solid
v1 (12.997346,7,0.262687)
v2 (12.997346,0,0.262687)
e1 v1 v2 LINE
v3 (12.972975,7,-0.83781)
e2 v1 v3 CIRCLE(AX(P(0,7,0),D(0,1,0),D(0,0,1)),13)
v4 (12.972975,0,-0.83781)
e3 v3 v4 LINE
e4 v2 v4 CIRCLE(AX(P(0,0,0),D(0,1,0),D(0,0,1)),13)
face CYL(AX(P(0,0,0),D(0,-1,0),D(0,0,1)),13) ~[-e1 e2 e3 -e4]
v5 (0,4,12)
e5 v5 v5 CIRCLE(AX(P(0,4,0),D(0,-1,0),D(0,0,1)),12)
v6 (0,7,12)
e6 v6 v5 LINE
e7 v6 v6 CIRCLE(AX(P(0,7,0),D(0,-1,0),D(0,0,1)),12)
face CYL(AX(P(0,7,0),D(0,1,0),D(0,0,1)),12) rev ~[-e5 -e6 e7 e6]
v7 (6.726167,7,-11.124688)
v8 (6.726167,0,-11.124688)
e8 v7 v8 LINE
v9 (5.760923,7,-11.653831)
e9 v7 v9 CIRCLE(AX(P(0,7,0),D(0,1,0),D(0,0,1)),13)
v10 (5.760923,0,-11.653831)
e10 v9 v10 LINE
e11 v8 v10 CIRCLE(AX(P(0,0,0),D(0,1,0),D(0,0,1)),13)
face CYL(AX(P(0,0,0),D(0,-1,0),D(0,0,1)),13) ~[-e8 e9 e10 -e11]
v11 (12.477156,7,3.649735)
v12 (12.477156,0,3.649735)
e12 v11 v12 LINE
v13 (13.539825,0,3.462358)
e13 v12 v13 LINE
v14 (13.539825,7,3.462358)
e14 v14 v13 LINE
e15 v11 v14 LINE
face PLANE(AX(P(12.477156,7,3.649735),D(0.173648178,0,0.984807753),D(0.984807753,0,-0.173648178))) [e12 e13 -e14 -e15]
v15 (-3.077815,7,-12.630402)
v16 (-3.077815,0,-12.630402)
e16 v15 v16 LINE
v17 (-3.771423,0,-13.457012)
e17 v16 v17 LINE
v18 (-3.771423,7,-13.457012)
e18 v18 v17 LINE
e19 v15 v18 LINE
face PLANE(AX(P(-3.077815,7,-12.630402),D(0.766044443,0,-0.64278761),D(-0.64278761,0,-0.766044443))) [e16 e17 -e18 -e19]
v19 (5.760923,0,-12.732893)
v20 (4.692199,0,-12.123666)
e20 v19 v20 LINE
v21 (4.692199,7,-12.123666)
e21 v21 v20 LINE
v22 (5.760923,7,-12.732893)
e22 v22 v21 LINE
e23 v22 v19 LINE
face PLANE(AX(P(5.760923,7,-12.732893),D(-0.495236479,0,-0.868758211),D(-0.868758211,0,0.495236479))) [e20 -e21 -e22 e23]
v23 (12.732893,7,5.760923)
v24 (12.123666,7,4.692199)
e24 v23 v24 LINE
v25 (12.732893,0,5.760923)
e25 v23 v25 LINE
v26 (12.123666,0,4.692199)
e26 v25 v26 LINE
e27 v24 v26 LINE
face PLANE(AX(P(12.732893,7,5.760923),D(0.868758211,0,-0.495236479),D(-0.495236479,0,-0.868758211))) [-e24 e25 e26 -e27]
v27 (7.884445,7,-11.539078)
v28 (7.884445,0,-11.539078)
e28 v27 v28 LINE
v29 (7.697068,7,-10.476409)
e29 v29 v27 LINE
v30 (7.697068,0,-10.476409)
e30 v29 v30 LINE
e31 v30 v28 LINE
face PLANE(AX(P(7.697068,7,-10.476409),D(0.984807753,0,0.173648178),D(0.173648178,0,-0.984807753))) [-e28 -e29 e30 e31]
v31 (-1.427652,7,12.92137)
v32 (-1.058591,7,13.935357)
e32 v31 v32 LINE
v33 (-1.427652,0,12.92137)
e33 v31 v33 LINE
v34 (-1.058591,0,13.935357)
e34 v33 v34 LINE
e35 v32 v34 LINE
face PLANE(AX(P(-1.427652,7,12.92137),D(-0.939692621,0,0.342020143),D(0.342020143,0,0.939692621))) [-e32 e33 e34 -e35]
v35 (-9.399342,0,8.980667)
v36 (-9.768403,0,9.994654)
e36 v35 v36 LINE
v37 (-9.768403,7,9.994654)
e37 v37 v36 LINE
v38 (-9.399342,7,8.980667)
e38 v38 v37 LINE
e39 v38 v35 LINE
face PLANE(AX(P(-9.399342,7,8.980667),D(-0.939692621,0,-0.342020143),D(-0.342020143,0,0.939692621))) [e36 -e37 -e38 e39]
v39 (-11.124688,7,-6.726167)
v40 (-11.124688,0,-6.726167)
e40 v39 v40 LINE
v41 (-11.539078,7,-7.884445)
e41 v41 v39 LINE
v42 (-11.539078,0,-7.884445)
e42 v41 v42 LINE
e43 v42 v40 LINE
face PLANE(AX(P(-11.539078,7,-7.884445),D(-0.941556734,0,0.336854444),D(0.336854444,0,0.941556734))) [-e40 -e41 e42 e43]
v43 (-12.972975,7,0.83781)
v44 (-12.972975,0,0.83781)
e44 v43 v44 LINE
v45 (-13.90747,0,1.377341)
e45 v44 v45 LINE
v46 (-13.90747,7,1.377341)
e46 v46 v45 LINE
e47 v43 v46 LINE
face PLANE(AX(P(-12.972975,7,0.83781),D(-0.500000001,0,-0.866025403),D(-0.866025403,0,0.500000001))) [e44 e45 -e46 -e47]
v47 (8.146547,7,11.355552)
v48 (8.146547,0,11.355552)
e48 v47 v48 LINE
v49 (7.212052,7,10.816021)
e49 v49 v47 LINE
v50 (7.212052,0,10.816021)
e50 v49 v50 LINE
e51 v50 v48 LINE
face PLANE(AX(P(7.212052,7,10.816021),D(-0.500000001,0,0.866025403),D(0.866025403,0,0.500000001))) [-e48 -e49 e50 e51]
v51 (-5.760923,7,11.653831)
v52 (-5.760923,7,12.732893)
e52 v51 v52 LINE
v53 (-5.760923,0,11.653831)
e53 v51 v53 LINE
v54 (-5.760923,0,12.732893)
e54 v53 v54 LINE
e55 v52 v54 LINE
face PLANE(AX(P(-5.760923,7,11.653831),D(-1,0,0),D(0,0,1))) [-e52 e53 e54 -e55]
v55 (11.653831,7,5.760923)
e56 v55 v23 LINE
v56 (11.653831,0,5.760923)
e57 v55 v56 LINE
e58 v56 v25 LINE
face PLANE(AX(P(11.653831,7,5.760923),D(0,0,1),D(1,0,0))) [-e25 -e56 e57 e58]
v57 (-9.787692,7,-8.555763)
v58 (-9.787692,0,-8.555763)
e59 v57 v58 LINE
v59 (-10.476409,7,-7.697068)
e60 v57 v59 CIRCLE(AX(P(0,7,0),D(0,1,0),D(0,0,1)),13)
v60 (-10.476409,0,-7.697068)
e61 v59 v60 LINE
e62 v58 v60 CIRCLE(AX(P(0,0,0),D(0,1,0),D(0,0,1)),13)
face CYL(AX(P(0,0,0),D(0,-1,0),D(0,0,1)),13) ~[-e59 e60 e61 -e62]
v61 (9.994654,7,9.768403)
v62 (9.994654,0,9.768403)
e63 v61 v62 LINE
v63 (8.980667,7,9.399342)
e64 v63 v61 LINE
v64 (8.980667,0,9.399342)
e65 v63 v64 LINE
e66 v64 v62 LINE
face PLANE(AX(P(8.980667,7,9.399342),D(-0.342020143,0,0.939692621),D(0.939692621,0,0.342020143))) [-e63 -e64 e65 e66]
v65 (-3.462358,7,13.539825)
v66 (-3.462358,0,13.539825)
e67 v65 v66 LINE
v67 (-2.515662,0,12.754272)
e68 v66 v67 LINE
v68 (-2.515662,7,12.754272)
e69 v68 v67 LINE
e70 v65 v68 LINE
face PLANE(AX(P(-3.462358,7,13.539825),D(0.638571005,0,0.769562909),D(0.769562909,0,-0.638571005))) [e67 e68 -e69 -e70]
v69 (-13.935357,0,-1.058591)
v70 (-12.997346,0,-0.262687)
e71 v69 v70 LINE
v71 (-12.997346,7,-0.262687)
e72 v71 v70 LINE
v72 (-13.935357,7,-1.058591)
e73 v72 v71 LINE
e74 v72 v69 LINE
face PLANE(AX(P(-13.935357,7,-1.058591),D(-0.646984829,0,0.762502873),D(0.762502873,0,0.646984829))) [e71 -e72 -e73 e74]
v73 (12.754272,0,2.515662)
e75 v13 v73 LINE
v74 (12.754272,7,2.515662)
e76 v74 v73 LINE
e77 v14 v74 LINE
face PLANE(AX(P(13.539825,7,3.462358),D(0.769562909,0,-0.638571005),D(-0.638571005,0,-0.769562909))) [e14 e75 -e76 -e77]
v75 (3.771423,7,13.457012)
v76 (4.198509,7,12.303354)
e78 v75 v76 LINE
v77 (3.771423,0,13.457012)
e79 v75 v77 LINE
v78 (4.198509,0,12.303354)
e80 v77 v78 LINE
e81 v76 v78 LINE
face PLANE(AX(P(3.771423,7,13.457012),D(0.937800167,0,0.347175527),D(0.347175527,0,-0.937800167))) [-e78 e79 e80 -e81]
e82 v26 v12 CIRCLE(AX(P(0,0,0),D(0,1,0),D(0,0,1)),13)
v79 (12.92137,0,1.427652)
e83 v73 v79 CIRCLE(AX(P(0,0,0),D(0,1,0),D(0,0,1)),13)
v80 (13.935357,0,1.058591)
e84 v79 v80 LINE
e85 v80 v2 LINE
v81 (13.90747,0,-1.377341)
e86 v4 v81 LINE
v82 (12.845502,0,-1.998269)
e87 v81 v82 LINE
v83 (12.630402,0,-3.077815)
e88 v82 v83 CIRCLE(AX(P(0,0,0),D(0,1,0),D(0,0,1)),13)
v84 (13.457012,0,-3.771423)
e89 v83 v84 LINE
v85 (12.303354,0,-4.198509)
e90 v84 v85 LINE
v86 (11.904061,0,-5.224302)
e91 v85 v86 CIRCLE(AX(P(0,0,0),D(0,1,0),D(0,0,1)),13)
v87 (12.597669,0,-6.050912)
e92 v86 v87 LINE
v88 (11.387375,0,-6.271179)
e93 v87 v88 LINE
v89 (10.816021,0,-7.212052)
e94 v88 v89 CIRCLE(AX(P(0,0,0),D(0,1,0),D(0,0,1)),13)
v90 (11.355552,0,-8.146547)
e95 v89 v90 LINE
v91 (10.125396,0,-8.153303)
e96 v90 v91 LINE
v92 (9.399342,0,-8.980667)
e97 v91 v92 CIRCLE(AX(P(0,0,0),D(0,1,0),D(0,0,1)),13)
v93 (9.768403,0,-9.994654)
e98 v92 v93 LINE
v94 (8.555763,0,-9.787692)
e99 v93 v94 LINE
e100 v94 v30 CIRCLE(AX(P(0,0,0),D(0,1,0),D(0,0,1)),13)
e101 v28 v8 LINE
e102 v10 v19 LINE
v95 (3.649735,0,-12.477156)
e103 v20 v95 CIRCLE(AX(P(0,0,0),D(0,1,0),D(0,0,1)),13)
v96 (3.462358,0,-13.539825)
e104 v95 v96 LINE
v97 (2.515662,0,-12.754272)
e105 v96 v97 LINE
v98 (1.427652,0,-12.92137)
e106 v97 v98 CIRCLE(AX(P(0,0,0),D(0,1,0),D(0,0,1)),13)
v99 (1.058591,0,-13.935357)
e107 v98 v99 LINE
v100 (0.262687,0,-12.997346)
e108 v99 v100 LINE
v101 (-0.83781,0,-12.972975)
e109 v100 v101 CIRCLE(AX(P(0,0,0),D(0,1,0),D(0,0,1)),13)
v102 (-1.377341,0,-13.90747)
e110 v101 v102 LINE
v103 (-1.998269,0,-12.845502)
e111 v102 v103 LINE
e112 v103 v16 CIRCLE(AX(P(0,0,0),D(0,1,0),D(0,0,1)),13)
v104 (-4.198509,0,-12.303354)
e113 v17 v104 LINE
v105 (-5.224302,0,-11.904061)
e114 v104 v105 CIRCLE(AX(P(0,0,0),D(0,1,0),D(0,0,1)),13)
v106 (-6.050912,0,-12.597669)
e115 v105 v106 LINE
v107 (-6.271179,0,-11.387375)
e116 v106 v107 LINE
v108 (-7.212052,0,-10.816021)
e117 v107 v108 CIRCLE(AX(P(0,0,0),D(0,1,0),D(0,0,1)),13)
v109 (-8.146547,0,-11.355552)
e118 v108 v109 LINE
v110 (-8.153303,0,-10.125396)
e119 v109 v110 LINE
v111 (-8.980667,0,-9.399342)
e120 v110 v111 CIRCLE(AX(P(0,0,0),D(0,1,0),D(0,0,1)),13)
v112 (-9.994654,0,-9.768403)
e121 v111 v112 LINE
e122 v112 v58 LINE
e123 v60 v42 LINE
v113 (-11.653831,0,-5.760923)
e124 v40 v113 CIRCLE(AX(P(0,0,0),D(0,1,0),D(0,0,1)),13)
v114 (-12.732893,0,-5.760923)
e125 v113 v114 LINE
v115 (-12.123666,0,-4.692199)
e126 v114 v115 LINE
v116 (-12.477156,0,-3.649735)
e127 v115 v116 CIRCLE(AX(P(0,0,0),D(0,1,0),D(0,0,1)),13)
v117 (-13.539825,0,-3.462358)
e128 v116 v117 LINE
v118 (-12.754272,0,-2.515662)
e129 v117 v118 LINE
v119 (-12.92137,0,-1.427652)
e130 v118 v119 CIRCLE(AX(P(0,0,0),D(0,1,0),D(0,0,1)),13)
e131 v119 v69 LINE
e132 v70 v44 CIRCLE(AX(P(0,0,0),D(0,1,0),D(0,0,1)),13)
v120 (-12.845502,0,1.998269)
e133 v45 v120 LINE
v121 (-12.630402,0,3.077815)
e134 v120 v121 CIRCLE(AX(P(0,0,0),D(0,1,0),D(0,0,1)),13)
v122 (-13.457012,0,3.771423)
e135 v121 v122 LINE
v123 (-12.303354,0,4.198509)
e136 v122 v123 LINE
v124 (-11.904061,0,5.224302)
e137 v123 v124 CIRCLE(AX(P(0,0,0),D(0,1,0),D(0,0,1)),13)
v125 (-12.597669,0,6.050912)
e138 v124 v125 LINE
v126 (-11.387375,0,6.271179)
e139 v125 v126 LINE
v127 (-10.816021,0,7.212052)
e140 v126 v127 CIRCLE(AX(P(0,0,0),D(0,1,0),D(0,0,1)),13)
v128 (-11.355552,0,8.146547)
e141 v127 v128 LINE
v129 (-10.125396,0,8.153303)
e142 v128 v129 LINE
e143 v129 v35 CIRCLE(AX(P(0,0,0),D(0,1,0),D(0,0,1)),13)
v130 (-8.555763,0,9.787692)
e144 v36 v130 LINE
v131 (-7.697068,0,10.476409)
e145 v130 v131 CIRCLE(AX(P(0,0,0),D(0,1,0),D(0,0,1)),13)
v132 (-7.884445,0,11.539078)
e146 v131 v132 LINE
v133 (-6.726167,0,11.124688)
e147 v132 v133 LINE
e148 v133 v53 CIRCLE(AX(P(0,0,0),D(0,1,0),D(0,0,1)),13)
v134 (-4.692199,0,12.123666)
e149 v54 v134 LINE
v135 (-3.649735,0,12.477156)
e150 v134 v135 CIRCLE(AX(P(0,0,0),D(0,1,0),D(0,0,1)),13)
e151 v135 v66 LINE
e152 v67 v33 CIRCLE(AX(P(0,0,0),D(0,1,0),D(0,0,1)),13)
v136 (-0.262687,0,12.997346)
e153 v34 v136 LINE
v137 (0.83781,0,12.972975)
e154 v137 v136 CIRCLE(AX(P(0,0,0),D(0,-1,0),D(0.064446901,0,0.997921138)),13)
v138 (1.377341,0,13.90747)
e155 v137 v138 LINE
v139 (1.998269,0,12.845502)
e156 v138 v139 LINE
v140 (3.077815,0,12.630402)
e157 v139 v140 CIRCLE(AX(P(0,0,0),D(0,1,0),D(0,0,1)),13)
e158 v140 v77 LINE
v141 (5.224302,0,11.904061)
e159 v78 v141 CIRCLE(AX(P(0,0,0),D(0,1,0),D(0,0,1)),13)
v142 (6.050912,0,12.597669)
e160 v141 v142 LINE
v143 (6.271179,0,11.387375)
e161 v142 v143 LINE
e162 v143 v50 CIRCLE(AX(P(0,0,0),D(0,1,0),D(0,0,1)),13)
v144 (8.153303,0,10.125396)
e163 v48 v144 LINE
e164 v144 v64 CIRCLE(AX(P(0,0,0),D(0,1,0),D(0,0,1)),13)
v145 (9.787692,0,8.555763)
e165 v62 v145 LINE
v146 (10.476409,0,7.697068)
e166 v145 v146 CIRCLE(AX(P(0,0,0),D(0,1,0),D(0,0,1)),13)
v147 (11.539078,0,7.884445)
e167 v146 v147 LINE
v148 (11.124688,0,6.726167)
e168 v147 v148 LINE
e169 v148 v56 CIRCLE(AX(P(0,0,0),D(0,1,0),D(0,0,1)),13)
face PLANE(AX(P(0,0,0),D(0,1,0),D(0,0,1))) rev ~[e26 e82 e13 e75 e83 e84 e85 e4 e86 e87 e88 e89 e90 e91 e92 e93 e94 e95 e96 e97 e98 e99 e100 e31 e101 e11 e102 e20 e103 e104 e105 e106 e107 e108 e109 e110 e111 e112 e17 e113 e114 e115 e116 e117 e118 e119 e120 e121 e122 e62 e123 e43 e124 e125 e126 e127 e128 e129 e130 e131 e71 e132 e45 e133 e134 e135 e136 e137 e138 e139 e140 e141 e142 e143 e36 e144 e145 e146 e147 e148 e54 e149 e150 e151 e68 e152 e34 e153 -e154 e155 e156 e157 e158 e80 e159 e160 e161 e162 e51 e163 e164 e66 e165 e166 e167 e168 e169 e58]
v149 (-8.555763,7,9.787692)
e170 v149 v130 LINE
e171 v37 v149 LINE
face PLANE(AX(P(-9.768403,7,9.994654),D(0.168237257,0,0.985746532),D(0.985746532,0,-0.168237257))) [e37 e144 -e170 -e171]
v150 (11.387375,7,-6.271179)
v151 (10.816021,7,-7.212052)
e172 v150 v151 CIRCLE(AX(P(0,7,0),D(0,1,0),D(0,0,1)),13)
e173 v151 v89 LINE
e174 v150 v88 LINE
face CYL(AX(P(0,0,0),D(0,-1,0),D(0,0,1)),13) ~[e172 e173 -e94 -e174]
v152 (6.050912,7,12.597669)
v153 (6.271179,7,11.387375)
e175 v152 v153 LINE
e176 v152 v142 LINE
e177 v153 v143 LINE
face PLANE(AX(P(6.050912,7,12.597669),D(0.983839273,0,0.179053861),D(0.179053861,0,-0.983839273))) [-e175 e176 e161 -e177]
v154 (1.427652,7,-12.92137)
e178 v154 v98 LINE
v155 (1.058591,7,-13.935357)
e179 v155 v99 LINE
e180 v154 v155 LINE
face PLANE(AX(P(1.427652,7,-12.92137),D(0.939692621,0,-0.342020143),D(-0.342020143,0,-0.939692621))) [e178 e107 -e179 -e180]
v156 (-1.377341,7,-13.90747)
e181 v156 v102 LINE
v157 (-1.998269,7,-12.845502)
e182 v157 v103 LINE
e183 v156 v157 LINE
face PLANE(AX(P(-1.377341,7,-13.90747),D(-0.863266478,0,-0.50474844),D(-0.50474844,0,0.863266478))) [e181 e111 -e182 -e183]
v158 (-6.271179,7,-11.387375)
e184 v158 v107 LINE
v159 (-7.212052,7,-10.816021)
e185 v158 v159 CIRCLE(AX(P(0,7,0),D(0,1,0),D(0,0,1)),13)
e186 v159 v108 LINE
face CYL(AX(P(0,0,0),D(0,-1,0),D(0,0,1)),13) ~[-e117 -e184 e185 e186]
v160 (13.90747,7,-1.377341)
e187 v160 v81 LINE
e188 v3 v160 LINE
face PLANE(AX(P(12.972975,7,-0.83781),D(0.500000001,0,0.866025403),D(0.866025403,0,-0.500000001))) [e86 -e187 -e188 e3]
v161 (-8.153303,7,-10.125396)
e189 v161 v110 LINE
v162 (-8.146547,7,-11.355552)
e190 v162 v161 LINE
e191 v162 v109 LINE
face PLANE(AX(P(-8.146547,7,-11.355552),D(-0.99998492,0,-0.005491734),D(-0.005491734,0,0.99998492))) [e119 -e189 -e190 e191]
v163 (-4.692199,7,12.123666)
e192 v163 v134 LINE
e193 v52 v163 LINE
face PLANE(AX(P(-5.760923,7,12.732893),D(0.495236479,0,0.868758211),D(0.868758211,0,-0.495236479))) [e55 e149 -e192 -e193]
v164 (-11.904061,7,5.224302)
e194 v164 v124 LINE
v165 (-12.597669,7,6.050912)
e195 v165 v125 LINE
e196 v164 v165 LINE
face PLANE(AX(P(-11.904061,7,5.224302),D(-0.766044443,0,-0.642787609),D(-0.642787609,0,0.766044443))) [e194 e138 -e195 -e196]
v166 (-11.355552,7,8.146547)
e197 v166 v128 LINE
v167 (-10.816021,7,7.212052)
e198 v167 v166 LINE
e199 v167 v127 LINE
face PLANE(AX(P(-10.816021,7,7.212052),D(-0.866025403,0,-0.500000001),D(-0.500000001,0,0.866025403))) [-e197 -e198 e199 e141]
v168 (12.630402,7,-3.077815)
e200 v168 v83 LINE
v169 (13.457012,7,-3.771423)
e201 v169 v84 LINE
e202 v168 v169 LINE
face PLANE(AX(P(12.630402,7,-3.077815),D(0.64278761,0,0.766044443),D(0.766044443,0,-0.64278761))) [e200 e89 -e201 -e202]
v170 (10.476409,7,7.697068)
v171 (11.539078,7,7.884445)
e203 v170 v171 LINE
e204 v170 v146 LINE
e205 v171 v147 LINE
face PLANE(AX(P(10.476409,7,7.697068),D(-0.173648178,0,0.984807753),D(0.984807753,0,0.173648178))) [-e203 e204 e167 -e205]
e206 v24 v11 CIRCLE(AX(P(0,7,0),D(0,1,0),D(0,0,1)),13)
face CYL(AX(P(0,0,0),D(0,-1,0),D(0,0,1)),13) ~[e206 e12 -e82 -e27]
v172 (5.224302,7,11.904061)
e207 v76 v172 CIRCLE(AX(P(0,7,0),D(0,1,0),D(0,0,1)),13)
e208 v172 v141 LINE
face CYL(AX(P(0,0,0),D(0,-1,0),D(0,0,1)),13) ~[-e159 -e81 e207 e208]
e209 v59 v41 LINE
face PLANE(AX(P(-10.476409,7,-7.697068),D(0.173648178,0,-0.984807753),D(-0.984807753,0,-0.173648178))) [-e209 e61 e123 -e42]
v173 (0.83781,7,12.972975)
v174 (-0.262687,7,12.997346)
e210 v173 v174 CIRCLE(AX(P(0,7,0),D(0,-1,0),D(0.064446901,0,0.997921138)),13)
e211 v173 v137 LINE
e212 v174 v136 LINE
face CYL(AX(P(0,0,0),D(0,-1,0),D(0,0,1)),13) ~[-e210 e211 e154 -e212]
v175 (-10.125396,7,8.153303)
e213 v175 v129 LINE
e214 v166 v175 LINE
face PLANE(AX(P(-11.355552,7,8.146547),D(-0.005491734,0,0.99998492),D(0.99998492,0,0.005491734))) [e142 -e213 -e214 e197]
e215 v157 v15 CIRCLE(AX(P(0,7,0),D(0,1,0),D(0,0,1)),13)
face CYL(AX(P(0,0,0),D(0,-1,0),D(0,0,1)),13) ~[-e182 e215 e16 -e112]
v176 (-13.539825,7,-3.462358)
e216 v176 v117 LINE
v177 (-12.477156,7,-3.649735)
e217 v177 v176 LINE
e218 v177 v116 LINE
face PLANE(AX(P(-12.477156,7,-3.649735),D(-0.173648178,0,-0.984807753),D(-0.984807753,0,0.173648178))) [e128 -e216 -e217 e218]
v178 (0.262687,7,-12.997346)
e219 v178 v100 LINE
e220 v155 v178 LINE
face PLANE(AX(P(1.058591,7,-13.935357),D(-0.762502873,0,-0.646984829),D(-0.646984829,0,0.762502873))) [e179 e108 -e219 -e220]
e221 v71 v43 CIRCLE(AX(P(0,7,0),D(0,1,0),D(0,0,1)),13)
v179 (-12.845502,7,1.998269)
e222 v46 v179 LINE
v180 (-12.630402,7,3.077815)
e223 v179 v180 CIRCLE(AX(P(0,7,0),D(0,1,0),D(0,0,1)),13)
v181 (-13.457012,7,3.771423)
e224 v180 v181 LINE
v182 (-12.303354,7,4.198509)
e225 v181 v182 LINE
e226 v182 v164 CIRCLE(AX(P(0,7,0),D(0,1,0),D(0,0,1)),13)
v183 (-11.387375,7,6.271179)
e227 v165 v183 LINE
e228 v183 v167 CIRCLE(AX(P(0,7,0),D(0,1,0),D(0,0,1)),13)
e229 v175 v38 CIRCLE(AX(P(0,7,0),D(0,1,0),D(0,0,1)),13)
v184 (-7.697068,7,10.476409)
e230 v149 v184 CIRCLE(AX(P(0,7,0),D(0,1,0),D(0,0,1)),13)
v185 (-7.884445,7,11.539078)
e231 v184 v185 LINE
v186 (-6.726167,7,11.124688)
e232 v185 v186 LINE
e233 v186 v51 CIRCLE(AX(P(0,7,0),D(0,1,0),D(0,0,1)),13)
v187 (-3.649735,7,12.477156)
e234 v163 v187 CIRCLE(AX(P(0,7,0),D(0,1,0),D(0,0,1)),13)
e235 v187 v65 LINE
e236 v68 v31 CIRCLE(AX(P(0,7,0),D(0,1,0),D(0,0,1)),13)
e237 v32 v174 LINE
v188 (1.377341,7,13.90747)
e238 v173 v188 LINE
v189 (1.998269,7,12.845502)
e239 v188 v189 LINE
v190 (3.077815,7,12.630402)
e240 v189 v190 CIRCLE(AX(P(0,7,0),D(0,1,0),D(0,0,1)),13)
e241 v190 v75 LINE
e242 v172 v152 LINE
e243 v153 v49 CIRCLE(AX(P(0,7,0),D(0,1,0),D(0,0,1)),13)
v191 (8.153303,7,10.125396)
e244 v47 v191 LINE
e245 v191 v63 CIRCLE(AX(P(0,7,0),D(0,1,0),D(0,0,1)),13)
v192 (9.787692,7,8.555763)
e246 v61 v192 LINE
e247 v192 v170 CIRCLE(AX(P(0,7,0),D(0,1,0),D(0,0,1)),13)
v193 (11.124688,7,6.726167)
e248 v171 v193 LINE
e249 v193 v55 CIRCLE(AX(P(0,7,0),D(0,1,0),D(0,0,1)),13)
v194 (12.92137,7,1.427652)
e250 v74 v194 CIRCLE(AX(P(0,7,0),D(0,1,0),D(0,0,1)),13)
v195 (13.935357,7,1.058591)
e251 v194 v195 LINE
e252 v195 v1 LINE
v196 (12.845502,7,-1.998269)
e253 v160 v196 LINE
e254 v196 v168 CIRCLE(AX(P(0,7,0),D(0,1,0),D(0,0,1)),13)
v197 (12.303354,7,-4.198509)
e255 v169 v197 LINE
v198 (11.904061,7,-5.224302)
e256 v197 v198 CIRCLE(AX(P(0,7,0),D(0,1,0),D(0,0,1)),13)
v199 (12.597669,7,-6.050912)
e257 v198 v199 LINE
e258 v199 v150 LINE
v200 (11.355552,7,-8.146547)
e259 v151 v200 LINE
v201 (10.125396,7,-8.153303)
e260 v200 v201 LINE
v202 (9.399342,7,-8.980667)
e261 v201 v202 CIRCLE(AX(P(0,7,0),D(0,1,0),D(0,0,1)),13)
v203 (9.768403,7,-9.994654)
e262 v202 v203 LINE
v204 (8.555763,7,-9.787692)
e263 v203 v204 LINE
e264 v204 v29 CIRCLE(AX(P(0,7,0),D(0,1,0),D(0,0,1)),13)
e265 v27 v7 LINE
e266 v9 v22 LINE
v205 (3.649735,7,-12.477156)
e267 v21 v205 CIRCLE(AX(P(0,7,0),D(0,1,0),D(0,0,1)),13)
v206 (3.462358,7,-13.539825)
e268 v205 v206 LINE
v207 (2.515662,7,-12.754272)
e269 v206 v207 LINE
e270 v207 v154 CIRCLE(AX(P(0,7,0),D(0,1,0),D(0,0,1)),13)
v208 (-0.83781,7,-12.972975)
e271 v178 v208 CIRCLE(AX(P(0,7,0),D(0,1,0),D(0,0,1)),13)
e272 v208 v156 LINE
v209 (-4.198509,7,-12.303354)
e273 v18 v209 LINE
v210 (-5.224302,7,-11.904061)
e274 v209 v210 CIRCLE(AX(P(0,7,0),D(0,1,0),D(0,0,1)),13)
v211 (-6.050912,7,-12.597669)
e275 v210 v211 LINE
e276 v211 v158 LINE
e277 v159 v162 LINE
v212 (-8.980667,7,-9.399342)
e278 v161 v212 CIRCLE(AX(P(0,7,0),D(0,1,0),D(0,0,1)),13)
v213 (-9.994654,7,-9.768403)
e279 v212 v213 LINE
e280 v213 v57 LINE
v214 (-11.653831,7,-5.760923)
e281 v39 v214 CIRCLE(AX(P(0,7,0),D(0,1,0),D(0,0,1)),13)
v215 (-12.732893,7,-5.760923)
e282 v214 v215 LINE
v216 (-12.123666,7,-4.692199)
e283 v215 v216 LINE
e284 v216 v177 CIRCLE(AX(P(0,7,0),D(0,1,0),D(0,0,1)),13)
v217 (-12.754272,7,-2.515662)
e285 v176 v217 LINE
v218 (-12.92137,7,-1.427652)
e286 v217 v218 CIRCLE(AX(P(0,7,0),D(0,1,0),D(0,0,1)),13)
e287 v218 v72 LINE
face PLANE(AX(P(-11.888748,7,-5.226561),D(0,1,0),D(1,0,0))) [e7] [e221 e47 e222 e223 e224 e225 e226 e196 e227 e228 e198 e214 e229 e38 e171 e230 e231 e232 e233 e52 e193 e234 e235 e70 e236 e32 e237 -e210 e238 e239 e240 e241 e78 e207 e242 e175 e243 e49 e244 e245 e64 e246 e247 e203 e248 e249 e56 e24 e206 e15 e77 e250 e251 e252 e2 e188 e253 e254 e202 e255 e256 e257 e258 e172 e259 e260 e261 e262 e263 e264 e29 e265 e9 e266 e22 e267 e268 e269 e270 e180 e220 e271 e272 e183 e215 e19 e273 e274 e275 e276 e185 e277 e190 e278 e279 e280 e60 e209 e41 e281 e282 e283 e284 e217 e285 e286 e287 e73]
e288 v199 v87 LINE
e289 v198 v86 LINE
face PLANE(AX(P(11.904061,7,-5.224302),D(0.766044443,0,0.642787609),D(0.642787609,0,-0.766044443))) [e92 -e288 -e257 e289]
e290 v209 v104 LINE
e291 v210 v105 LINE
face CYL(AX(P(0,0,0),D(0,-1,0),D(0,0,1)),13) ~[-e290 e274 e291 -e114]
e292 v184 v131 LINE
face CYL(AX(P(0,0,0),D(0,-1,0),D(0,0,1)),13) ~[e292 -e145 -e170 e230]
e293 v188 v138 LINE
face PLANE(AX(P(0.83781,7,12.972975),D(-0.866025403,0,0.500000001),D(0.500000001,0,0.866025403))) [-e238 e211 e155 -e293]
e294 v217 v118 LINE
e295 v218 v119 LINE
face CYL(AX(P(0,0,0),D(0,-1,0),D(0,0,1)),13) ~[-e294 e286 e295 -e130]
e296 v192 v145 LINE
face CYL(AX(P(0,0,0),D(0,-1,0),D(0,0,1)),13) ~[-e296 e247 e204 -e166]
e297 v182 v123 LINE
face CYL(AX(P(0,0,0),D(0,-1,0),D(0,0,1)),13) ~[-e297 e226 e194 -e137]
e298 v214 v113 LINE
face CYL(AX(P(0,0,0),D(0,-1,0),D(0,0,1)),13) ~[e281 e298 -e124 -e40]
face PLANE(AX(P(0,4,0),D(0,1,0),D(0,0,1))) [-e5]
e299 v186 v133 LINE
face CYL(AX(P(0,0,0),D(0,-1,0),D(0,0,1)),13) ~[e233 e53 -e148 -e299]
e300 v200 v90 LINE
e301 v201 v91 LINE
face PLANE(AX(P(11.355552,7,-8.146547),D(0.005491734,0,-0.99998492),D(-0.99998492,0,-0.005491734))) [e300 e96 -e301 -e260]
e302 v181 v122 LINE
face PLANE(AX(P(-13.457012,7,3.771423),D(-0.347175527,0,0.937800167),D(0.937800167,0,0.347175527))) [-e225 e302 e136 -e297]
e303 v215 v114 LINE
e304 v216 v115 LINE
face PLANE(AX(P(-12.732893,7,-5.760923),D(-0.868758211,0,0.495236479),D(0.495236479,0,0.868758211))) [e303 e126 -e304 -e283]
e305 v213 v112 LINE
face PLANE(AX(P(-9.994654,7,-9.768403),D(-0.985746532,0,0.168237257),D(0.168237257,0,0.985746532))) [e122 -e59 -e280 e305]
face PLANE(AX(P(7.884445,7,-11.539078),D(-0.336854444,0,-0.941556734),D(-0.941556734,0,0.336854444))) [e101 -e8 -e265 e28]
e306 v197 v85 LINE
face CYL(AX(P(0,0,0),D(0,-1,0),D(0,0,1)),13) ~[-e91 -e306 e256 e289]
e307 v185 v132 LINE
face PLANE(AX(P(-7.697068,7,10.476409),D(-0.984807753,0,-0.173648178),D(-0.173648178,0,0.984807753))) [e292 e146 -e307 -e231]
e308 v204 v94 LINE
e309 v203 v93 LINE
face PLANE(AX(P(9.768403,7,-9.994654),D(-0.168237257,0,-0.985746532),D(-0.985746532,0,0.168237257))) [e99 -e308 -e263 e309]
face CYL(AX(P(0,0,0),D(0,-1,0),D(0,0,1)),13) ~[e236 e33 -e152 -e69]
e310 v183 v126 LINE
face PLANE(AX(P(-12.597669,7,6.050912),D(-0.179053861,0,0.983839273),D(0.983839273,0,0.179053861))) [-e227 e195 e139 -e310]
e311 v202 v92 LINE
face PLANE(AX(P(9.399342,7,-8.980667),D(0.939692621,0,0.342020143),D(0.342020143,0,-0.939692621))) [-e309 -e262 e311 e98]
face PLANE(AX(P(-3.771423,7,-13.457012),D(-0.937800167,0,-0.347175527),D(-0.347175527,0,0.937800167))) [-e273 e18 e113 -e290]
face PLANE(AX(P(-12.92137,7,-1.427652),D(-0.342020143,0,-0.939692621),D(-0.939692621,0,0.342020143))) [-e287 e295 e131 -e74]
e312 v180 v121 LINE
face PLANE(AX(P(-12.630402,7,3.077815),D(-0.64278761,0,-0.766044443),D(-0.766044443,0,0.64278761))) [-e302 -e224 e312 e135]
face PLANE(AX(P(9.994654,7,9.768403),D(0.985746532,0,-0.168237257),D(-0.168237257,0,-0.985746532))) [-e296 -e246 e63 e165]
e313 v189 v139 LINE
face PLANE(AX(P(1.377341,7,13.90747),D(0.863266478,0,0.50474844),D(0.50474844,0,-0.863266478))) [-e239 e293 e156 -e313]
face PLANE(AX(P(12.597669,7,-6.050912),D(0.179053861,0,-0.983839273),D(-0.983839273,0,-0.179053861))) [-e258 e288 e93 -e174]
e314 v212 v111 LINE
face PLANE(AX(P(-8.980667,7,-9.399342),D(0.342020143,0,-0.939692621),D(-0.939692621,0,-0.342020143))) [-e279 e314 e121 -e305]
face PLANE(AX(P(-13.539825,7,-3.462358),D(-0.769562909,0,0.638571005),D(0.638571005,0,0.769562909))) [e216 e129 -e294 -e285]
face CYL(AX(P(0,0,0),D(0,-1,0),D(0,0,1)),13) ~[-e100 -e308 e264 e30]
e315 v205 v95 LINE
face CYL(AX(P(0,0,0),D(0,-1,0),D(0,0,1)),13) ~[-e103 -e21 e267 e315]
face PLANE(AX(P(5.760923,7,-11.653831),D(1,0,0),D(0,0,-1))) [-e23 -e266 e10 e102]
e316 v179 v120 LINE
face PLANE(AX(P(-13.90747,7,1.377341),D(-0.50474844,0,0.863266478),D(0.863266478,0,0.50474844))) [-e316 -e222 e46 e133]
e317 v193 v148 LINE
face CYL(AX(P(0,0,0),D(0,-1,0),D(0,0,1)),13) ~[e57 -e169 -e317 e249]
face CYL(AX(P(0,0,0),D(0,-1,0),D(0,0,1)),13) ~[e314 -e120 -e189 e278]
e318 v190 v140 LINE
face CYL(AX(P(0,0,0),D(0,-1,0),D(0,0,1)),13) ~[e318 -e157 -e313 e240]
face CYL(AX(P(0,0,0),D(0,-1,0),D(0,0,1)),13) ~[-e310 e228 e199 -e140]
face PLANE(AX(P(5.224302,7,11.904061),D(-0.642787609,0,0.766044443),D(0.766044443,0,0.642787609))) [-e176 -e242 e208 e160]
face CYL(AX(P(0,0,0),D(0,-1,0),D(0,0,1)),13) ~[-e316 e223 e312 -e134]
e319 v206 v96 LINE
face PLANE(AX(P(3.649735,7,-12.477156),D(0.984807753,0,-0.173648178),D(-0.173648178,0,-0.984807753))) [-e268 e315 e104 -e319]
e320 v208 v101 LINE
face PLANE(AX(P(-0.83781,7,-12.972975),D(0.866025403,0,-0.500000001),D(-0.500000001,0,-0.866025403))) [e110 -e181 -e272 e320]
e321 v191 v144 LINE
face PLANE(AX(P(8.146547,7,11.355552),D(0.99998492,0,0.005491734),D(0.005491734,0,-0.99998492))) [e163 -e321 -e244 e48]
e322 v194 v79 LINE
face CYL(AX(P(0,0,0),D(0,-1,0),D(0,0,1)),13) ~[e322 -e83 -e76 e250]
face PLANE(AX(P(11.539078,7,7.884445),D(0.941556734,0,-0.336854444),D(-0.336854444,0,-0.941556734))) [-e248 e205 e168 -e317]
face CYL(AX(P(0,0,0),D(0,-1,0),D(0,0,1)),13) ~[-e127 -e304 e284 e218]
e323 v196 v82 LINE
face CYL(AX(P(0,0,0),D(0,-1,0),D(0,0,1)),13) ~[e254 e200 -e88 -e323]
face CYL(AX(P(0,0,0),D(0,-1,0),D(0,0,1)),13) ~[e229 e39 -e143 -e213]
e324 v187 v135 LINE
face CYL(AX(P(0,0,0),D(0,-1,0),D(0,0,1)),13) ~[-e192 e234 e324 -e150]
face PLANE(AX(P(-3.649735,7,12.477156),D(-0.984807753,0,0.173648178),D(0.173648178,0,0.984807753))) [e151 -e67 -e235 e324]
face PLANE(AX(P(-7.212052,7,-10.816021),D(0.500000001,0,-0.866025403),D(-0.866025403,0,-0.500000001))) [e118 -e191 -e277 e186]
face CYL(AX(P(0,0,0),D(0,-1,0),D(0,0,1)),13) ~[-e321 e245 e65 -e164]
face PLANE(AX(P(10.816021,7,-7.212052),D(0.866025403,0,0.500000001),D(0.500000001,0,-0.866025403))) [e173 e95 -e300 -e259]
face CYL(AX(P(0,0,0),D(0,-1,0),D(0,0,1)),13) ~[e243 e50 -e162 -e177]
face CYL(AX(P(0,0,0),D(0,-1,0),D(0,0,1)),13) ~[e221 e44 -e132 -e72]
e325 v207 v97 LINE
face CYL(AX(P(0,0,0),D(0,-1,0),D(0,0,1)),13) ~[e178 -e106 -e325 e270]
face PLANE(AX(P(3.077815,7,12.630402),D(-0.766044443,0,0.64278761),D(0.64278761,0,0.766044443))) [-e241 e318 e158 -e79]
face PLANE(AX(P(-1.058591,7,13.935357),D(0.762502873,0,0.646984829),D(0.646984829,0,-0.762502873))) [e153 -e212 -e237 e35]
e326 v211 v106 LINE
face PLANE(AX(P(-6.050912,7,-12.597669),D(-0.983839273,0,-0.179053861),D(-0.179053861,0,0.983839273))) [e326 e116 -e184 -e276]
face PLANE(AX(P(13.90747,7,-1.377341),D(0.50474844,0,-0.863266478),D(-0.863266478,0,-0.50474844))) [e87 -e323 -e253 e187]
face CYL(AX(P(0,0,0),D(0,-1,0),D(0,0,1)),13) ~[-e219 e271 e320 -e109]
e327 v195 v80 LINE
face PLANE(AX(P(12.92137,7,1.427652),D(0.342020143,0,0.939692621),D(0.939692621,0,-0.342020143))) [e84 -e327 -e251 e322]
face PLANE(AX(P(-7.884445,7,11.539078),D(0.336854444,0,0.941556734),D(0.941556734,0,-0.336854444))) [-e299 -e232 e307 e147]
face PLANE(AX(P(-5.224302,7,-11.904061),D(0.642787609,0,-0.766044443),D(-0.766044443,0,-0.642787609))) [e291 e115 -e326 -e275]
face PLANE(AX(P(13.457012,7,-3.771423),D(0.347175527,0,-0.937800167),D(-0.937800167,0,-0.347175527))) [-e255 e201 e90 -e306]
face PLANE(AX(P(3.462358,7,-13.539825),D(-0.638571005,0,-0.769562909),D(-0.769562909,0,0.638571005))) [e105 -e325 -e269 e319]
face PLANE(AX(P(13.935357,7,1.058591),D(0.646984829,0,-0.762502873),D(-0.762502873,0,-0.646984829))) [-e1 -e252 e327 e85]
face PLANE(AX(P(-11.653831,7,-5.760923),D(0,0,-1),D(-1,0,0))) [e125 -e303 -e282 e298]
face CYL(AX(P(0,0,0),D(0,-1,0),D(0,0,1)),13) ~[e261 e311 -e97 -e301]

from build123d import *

# Parameters (mm, degrees)
SKETCH_1_R          = 13
EXTRUDE_1_DEPTH     = 7
SKETCH_2_R          = 12
CUT_EXTRUDE_1_DEPTH = 3
EXTRUDE_2_DEPTH     = 7


with BuildPart() as part:
    # 草图1 → 凸台-拉伸1 (new body)
    with BuildSketch(Plane(origin=(0, 0, 0), x_dir=(1, 0, 0), z_dir=(0, 1, 0))):
        with Locations(Location((0, 0, 0), (0, 0, 270))):
            Circle(SKETCH_1_R)
    extrude(amount=EXTRUDE_1_DEPTH)

    # 草图2 → 切除-拉伸1 (cut)
    with BuildSketch(Plane(origin=(0, 7, 0), x_dir=(1, 0, 0), z_dir=(0, 1, 0))):
        with Locations(Location((0, 0, 0), (0, 0, 270))):
            Circle(SKETCH_2_R)
    extrude(amount=-CUT_EXTRUDE_1_DEPTH, mode=Mode.SUBTRACT)

    # 草图3 → 凸台-拉伸2 (add, through all)
    with BuildSketch(Plane(origin=(0, 7, 0), x_dir=(1, 0, 0), z_dir=(0, 1, 0))):
        Polygon((-12.123665589, 4.692199131), (-11.044603538, 4.692199131), (-11.653830585, 5.760922904), (-12.732892635, 5.760922904), align=None)
        Polygon((-11.124688039, 6.726166519), (-10.062019365, 6.53878936), (-10.476408948, 7.697067984), (-11.539077622, 7.884445143), align=None)
        Polygon((-9.787692472, 8.555762741), (-8.773705825, 8.186701784), (-8.980666927, 9.399341549), (-9.994653573, 9.768402506), align=None)
        Polygon((-8.153302822, 10.125396442), (-7.218807673, 9.585865416), (-7.212051886, 10.816020876), (-8.146547034, 11.355551902), align=None)
        Polygon((-6.271179191, 11.387375095), (-5.444569703, 10.693767379), (-5.224302297, 11.904060883), (-6.050911785, 12.597668599), align=None)
        Polygon((-4.198508954, 12.303354118), (-3.504901238, 11.47674463), (-3.077814927, 12.630402023), (-3.771422644, 13.457011511), align=None)
        Polygon((-1.998269147, 12.845501953), (-1.458738122, 11.911006804), (-0.837809708, 12.97297479), (-1.377340734, 13.907469938), align=None)
        Polygon((0.262687056, 12.99734571), (0.631748014, 11.983359064), (1.427651935, 12.921370282), (1.058590978, 13.935356928), align=None)
        Polygon((2.515661647, 12.754271695), (2.703038805, 11.691603022), (3.649735097, 12.477156476), (3.462357938, 13.53982515), align=None)
        Polygon((4.692199131, 12.123665589), (4.692199131, 11.044603538), (5.760922904, 11.653830585), (5.760922904, 12.732892635), align=None)
        Polygon((6.726166519, 11.124688039), (6.53878936, 10.062019365), (7.697067984, 10.476408948), (7.884445143, 11.539077622), align=None)
        Polygon((8.555762741, 9.787692472), (8.186701784, 8.773705825), (9.399341549, 8.980666927), (9.768402506, 9.994653573), align=None)
        Polygon((10.125396442, 8.153302822), (9.585865416, 7.218807673), (10.816020876, 7.212051886), (11.355551902, 8.146547034), align=None)
        Polygon((11.387375095, 6.271179191), (10.693767379, 5.444569703), (11.904060883, 5.224302297), (12.597668599, 6.050911785), align=None)
        Polygon((12.303354118, 4.198508954), (11.47674463, 3.504901238), (12.630402023, 3.077814927), (13.457011511, 3.771422644), align=None)
        Polygon((12.845501953, 1.998269147), (11.911006804, 1.458738122), (12.97297479, 0.837809708), (13.907469938, 1.377340734), align=None)
        Polygon((12.99734571, -0.262687056), (11.983359064, -0.631748014), (12.921370282, -1.427651935), (13.935356928, -1.058590978), align=None)
        Polygon((12.754271695, -2.515661647), (11.691603022, -2.703038805), (12.477156476, -3.649735097), (13.53982515, -3.462357938), align=None)
        Polygon((12.123665589, -4.692199131), (11.044603538, -4.692199131), (11.653830585, -5.760922904), (12.732892635, -5.760922904), align=None)
        Polygon((11.124688039, -6.726166519), (10.062019365, -6.53878936), (10.476408948, -7.697067984), (11.539077622, -7.884445143), align=None)
        Polygon((9.787692472, -8.555762741), (8.773705825, -8.186701784), (8.980666927, -9.399341549), (9.994653573, -9.768402506), align=None)
        Polygon((8.153302822, -10.125396442), (7.218807673, -9.585865416), (7.212051886, -10.816020876), (8.146547034, -11.355551902), align=None)
        Polygon((6.271179191, -11.387375095), (5.444569703, -10.693767379), (5.224302297, -11.904060883), (6.050911785, -12.597668599), align=None)
        Polygon((4.198508954, -12.303354118), (3.504901238, -11.47674463), (3.077814927, -12.630402023), (3.771422644, -13.457011511), align=None)
        Polygon((1.998269147, -12.845501953), (1.458738122, -11.911006804), (0.837809708, -12.97297479), (1.377340734, -13.907469938), align=None)
        Polygon((-0.262687056, -12.99734571), (-0.631748014, -11.983359064), (-1.427651935, -12.921370282), (-1.058590978, -13.935356928), align=None)
        Polygon((-2.515661647, -12.754271695), (-2.703038805, -11.691603022), (-3.649735097, -12.477156476), (-3.462357938, -13.53982515), align=None)
        Polygon((-4.692199131, -12.123665589), (-4.692199131, -11.044603538), (-5.760922904, -11.653830585), (-5.760922904, -12.732892635), align=None)
        Polygon((-6.726166519, -11.124688039), (-6.53878936, -10.062019365), (-7.697067984, -10.476408948), (-7.884445143, -11.539077622), align=None)
        Polygon((-8.555762741, -9.787692472), (-8.186701784, -8.773705825), (-9.399341549, -8.980666927), (-9.768402506, -9.994653573), align=None)
        Polygon((-10.125396442, -8.153302822), (-9.585865416, -7.218807673), (-10.816020876, -7.212051886), (-11.355551902, -8.146547034), align=None)
        Polygon((-11.387375095, -6.271179191), (-10.693767379, -5.444569703), (-11.904060883, -5.224302297), (-12.597668599, -6.050911785), align=None)
        Polygon((-12.303354118, -4.198508954), (-11.47674463, -3.504901238), (-12.630402023, -3.077814927), (-13.457011511, -3.771422644), align=None)
        Polygon((-12.845501953, -1.998269147), (-11.911006804, -1.458738122), (-12.97297479, -0.837809708), (-13.907469938, -1.377340734), align=None)
        Polygon((-12.99734571, 0.262687056), (-11.983359064, 0.631748014), (-12.921370282, 1.427651935), (-13.935356928, 1.058590978), align=None)
        Polygon((-12.754271695, 2.515661647), (-11.691603022, 2.703038805), (-12.477156476, 3.649735097), (-13.53982515, 3.462357938), align=None)
    extrude(amount=-EXTRUDE_2_DEPTH)


solid = part.part
